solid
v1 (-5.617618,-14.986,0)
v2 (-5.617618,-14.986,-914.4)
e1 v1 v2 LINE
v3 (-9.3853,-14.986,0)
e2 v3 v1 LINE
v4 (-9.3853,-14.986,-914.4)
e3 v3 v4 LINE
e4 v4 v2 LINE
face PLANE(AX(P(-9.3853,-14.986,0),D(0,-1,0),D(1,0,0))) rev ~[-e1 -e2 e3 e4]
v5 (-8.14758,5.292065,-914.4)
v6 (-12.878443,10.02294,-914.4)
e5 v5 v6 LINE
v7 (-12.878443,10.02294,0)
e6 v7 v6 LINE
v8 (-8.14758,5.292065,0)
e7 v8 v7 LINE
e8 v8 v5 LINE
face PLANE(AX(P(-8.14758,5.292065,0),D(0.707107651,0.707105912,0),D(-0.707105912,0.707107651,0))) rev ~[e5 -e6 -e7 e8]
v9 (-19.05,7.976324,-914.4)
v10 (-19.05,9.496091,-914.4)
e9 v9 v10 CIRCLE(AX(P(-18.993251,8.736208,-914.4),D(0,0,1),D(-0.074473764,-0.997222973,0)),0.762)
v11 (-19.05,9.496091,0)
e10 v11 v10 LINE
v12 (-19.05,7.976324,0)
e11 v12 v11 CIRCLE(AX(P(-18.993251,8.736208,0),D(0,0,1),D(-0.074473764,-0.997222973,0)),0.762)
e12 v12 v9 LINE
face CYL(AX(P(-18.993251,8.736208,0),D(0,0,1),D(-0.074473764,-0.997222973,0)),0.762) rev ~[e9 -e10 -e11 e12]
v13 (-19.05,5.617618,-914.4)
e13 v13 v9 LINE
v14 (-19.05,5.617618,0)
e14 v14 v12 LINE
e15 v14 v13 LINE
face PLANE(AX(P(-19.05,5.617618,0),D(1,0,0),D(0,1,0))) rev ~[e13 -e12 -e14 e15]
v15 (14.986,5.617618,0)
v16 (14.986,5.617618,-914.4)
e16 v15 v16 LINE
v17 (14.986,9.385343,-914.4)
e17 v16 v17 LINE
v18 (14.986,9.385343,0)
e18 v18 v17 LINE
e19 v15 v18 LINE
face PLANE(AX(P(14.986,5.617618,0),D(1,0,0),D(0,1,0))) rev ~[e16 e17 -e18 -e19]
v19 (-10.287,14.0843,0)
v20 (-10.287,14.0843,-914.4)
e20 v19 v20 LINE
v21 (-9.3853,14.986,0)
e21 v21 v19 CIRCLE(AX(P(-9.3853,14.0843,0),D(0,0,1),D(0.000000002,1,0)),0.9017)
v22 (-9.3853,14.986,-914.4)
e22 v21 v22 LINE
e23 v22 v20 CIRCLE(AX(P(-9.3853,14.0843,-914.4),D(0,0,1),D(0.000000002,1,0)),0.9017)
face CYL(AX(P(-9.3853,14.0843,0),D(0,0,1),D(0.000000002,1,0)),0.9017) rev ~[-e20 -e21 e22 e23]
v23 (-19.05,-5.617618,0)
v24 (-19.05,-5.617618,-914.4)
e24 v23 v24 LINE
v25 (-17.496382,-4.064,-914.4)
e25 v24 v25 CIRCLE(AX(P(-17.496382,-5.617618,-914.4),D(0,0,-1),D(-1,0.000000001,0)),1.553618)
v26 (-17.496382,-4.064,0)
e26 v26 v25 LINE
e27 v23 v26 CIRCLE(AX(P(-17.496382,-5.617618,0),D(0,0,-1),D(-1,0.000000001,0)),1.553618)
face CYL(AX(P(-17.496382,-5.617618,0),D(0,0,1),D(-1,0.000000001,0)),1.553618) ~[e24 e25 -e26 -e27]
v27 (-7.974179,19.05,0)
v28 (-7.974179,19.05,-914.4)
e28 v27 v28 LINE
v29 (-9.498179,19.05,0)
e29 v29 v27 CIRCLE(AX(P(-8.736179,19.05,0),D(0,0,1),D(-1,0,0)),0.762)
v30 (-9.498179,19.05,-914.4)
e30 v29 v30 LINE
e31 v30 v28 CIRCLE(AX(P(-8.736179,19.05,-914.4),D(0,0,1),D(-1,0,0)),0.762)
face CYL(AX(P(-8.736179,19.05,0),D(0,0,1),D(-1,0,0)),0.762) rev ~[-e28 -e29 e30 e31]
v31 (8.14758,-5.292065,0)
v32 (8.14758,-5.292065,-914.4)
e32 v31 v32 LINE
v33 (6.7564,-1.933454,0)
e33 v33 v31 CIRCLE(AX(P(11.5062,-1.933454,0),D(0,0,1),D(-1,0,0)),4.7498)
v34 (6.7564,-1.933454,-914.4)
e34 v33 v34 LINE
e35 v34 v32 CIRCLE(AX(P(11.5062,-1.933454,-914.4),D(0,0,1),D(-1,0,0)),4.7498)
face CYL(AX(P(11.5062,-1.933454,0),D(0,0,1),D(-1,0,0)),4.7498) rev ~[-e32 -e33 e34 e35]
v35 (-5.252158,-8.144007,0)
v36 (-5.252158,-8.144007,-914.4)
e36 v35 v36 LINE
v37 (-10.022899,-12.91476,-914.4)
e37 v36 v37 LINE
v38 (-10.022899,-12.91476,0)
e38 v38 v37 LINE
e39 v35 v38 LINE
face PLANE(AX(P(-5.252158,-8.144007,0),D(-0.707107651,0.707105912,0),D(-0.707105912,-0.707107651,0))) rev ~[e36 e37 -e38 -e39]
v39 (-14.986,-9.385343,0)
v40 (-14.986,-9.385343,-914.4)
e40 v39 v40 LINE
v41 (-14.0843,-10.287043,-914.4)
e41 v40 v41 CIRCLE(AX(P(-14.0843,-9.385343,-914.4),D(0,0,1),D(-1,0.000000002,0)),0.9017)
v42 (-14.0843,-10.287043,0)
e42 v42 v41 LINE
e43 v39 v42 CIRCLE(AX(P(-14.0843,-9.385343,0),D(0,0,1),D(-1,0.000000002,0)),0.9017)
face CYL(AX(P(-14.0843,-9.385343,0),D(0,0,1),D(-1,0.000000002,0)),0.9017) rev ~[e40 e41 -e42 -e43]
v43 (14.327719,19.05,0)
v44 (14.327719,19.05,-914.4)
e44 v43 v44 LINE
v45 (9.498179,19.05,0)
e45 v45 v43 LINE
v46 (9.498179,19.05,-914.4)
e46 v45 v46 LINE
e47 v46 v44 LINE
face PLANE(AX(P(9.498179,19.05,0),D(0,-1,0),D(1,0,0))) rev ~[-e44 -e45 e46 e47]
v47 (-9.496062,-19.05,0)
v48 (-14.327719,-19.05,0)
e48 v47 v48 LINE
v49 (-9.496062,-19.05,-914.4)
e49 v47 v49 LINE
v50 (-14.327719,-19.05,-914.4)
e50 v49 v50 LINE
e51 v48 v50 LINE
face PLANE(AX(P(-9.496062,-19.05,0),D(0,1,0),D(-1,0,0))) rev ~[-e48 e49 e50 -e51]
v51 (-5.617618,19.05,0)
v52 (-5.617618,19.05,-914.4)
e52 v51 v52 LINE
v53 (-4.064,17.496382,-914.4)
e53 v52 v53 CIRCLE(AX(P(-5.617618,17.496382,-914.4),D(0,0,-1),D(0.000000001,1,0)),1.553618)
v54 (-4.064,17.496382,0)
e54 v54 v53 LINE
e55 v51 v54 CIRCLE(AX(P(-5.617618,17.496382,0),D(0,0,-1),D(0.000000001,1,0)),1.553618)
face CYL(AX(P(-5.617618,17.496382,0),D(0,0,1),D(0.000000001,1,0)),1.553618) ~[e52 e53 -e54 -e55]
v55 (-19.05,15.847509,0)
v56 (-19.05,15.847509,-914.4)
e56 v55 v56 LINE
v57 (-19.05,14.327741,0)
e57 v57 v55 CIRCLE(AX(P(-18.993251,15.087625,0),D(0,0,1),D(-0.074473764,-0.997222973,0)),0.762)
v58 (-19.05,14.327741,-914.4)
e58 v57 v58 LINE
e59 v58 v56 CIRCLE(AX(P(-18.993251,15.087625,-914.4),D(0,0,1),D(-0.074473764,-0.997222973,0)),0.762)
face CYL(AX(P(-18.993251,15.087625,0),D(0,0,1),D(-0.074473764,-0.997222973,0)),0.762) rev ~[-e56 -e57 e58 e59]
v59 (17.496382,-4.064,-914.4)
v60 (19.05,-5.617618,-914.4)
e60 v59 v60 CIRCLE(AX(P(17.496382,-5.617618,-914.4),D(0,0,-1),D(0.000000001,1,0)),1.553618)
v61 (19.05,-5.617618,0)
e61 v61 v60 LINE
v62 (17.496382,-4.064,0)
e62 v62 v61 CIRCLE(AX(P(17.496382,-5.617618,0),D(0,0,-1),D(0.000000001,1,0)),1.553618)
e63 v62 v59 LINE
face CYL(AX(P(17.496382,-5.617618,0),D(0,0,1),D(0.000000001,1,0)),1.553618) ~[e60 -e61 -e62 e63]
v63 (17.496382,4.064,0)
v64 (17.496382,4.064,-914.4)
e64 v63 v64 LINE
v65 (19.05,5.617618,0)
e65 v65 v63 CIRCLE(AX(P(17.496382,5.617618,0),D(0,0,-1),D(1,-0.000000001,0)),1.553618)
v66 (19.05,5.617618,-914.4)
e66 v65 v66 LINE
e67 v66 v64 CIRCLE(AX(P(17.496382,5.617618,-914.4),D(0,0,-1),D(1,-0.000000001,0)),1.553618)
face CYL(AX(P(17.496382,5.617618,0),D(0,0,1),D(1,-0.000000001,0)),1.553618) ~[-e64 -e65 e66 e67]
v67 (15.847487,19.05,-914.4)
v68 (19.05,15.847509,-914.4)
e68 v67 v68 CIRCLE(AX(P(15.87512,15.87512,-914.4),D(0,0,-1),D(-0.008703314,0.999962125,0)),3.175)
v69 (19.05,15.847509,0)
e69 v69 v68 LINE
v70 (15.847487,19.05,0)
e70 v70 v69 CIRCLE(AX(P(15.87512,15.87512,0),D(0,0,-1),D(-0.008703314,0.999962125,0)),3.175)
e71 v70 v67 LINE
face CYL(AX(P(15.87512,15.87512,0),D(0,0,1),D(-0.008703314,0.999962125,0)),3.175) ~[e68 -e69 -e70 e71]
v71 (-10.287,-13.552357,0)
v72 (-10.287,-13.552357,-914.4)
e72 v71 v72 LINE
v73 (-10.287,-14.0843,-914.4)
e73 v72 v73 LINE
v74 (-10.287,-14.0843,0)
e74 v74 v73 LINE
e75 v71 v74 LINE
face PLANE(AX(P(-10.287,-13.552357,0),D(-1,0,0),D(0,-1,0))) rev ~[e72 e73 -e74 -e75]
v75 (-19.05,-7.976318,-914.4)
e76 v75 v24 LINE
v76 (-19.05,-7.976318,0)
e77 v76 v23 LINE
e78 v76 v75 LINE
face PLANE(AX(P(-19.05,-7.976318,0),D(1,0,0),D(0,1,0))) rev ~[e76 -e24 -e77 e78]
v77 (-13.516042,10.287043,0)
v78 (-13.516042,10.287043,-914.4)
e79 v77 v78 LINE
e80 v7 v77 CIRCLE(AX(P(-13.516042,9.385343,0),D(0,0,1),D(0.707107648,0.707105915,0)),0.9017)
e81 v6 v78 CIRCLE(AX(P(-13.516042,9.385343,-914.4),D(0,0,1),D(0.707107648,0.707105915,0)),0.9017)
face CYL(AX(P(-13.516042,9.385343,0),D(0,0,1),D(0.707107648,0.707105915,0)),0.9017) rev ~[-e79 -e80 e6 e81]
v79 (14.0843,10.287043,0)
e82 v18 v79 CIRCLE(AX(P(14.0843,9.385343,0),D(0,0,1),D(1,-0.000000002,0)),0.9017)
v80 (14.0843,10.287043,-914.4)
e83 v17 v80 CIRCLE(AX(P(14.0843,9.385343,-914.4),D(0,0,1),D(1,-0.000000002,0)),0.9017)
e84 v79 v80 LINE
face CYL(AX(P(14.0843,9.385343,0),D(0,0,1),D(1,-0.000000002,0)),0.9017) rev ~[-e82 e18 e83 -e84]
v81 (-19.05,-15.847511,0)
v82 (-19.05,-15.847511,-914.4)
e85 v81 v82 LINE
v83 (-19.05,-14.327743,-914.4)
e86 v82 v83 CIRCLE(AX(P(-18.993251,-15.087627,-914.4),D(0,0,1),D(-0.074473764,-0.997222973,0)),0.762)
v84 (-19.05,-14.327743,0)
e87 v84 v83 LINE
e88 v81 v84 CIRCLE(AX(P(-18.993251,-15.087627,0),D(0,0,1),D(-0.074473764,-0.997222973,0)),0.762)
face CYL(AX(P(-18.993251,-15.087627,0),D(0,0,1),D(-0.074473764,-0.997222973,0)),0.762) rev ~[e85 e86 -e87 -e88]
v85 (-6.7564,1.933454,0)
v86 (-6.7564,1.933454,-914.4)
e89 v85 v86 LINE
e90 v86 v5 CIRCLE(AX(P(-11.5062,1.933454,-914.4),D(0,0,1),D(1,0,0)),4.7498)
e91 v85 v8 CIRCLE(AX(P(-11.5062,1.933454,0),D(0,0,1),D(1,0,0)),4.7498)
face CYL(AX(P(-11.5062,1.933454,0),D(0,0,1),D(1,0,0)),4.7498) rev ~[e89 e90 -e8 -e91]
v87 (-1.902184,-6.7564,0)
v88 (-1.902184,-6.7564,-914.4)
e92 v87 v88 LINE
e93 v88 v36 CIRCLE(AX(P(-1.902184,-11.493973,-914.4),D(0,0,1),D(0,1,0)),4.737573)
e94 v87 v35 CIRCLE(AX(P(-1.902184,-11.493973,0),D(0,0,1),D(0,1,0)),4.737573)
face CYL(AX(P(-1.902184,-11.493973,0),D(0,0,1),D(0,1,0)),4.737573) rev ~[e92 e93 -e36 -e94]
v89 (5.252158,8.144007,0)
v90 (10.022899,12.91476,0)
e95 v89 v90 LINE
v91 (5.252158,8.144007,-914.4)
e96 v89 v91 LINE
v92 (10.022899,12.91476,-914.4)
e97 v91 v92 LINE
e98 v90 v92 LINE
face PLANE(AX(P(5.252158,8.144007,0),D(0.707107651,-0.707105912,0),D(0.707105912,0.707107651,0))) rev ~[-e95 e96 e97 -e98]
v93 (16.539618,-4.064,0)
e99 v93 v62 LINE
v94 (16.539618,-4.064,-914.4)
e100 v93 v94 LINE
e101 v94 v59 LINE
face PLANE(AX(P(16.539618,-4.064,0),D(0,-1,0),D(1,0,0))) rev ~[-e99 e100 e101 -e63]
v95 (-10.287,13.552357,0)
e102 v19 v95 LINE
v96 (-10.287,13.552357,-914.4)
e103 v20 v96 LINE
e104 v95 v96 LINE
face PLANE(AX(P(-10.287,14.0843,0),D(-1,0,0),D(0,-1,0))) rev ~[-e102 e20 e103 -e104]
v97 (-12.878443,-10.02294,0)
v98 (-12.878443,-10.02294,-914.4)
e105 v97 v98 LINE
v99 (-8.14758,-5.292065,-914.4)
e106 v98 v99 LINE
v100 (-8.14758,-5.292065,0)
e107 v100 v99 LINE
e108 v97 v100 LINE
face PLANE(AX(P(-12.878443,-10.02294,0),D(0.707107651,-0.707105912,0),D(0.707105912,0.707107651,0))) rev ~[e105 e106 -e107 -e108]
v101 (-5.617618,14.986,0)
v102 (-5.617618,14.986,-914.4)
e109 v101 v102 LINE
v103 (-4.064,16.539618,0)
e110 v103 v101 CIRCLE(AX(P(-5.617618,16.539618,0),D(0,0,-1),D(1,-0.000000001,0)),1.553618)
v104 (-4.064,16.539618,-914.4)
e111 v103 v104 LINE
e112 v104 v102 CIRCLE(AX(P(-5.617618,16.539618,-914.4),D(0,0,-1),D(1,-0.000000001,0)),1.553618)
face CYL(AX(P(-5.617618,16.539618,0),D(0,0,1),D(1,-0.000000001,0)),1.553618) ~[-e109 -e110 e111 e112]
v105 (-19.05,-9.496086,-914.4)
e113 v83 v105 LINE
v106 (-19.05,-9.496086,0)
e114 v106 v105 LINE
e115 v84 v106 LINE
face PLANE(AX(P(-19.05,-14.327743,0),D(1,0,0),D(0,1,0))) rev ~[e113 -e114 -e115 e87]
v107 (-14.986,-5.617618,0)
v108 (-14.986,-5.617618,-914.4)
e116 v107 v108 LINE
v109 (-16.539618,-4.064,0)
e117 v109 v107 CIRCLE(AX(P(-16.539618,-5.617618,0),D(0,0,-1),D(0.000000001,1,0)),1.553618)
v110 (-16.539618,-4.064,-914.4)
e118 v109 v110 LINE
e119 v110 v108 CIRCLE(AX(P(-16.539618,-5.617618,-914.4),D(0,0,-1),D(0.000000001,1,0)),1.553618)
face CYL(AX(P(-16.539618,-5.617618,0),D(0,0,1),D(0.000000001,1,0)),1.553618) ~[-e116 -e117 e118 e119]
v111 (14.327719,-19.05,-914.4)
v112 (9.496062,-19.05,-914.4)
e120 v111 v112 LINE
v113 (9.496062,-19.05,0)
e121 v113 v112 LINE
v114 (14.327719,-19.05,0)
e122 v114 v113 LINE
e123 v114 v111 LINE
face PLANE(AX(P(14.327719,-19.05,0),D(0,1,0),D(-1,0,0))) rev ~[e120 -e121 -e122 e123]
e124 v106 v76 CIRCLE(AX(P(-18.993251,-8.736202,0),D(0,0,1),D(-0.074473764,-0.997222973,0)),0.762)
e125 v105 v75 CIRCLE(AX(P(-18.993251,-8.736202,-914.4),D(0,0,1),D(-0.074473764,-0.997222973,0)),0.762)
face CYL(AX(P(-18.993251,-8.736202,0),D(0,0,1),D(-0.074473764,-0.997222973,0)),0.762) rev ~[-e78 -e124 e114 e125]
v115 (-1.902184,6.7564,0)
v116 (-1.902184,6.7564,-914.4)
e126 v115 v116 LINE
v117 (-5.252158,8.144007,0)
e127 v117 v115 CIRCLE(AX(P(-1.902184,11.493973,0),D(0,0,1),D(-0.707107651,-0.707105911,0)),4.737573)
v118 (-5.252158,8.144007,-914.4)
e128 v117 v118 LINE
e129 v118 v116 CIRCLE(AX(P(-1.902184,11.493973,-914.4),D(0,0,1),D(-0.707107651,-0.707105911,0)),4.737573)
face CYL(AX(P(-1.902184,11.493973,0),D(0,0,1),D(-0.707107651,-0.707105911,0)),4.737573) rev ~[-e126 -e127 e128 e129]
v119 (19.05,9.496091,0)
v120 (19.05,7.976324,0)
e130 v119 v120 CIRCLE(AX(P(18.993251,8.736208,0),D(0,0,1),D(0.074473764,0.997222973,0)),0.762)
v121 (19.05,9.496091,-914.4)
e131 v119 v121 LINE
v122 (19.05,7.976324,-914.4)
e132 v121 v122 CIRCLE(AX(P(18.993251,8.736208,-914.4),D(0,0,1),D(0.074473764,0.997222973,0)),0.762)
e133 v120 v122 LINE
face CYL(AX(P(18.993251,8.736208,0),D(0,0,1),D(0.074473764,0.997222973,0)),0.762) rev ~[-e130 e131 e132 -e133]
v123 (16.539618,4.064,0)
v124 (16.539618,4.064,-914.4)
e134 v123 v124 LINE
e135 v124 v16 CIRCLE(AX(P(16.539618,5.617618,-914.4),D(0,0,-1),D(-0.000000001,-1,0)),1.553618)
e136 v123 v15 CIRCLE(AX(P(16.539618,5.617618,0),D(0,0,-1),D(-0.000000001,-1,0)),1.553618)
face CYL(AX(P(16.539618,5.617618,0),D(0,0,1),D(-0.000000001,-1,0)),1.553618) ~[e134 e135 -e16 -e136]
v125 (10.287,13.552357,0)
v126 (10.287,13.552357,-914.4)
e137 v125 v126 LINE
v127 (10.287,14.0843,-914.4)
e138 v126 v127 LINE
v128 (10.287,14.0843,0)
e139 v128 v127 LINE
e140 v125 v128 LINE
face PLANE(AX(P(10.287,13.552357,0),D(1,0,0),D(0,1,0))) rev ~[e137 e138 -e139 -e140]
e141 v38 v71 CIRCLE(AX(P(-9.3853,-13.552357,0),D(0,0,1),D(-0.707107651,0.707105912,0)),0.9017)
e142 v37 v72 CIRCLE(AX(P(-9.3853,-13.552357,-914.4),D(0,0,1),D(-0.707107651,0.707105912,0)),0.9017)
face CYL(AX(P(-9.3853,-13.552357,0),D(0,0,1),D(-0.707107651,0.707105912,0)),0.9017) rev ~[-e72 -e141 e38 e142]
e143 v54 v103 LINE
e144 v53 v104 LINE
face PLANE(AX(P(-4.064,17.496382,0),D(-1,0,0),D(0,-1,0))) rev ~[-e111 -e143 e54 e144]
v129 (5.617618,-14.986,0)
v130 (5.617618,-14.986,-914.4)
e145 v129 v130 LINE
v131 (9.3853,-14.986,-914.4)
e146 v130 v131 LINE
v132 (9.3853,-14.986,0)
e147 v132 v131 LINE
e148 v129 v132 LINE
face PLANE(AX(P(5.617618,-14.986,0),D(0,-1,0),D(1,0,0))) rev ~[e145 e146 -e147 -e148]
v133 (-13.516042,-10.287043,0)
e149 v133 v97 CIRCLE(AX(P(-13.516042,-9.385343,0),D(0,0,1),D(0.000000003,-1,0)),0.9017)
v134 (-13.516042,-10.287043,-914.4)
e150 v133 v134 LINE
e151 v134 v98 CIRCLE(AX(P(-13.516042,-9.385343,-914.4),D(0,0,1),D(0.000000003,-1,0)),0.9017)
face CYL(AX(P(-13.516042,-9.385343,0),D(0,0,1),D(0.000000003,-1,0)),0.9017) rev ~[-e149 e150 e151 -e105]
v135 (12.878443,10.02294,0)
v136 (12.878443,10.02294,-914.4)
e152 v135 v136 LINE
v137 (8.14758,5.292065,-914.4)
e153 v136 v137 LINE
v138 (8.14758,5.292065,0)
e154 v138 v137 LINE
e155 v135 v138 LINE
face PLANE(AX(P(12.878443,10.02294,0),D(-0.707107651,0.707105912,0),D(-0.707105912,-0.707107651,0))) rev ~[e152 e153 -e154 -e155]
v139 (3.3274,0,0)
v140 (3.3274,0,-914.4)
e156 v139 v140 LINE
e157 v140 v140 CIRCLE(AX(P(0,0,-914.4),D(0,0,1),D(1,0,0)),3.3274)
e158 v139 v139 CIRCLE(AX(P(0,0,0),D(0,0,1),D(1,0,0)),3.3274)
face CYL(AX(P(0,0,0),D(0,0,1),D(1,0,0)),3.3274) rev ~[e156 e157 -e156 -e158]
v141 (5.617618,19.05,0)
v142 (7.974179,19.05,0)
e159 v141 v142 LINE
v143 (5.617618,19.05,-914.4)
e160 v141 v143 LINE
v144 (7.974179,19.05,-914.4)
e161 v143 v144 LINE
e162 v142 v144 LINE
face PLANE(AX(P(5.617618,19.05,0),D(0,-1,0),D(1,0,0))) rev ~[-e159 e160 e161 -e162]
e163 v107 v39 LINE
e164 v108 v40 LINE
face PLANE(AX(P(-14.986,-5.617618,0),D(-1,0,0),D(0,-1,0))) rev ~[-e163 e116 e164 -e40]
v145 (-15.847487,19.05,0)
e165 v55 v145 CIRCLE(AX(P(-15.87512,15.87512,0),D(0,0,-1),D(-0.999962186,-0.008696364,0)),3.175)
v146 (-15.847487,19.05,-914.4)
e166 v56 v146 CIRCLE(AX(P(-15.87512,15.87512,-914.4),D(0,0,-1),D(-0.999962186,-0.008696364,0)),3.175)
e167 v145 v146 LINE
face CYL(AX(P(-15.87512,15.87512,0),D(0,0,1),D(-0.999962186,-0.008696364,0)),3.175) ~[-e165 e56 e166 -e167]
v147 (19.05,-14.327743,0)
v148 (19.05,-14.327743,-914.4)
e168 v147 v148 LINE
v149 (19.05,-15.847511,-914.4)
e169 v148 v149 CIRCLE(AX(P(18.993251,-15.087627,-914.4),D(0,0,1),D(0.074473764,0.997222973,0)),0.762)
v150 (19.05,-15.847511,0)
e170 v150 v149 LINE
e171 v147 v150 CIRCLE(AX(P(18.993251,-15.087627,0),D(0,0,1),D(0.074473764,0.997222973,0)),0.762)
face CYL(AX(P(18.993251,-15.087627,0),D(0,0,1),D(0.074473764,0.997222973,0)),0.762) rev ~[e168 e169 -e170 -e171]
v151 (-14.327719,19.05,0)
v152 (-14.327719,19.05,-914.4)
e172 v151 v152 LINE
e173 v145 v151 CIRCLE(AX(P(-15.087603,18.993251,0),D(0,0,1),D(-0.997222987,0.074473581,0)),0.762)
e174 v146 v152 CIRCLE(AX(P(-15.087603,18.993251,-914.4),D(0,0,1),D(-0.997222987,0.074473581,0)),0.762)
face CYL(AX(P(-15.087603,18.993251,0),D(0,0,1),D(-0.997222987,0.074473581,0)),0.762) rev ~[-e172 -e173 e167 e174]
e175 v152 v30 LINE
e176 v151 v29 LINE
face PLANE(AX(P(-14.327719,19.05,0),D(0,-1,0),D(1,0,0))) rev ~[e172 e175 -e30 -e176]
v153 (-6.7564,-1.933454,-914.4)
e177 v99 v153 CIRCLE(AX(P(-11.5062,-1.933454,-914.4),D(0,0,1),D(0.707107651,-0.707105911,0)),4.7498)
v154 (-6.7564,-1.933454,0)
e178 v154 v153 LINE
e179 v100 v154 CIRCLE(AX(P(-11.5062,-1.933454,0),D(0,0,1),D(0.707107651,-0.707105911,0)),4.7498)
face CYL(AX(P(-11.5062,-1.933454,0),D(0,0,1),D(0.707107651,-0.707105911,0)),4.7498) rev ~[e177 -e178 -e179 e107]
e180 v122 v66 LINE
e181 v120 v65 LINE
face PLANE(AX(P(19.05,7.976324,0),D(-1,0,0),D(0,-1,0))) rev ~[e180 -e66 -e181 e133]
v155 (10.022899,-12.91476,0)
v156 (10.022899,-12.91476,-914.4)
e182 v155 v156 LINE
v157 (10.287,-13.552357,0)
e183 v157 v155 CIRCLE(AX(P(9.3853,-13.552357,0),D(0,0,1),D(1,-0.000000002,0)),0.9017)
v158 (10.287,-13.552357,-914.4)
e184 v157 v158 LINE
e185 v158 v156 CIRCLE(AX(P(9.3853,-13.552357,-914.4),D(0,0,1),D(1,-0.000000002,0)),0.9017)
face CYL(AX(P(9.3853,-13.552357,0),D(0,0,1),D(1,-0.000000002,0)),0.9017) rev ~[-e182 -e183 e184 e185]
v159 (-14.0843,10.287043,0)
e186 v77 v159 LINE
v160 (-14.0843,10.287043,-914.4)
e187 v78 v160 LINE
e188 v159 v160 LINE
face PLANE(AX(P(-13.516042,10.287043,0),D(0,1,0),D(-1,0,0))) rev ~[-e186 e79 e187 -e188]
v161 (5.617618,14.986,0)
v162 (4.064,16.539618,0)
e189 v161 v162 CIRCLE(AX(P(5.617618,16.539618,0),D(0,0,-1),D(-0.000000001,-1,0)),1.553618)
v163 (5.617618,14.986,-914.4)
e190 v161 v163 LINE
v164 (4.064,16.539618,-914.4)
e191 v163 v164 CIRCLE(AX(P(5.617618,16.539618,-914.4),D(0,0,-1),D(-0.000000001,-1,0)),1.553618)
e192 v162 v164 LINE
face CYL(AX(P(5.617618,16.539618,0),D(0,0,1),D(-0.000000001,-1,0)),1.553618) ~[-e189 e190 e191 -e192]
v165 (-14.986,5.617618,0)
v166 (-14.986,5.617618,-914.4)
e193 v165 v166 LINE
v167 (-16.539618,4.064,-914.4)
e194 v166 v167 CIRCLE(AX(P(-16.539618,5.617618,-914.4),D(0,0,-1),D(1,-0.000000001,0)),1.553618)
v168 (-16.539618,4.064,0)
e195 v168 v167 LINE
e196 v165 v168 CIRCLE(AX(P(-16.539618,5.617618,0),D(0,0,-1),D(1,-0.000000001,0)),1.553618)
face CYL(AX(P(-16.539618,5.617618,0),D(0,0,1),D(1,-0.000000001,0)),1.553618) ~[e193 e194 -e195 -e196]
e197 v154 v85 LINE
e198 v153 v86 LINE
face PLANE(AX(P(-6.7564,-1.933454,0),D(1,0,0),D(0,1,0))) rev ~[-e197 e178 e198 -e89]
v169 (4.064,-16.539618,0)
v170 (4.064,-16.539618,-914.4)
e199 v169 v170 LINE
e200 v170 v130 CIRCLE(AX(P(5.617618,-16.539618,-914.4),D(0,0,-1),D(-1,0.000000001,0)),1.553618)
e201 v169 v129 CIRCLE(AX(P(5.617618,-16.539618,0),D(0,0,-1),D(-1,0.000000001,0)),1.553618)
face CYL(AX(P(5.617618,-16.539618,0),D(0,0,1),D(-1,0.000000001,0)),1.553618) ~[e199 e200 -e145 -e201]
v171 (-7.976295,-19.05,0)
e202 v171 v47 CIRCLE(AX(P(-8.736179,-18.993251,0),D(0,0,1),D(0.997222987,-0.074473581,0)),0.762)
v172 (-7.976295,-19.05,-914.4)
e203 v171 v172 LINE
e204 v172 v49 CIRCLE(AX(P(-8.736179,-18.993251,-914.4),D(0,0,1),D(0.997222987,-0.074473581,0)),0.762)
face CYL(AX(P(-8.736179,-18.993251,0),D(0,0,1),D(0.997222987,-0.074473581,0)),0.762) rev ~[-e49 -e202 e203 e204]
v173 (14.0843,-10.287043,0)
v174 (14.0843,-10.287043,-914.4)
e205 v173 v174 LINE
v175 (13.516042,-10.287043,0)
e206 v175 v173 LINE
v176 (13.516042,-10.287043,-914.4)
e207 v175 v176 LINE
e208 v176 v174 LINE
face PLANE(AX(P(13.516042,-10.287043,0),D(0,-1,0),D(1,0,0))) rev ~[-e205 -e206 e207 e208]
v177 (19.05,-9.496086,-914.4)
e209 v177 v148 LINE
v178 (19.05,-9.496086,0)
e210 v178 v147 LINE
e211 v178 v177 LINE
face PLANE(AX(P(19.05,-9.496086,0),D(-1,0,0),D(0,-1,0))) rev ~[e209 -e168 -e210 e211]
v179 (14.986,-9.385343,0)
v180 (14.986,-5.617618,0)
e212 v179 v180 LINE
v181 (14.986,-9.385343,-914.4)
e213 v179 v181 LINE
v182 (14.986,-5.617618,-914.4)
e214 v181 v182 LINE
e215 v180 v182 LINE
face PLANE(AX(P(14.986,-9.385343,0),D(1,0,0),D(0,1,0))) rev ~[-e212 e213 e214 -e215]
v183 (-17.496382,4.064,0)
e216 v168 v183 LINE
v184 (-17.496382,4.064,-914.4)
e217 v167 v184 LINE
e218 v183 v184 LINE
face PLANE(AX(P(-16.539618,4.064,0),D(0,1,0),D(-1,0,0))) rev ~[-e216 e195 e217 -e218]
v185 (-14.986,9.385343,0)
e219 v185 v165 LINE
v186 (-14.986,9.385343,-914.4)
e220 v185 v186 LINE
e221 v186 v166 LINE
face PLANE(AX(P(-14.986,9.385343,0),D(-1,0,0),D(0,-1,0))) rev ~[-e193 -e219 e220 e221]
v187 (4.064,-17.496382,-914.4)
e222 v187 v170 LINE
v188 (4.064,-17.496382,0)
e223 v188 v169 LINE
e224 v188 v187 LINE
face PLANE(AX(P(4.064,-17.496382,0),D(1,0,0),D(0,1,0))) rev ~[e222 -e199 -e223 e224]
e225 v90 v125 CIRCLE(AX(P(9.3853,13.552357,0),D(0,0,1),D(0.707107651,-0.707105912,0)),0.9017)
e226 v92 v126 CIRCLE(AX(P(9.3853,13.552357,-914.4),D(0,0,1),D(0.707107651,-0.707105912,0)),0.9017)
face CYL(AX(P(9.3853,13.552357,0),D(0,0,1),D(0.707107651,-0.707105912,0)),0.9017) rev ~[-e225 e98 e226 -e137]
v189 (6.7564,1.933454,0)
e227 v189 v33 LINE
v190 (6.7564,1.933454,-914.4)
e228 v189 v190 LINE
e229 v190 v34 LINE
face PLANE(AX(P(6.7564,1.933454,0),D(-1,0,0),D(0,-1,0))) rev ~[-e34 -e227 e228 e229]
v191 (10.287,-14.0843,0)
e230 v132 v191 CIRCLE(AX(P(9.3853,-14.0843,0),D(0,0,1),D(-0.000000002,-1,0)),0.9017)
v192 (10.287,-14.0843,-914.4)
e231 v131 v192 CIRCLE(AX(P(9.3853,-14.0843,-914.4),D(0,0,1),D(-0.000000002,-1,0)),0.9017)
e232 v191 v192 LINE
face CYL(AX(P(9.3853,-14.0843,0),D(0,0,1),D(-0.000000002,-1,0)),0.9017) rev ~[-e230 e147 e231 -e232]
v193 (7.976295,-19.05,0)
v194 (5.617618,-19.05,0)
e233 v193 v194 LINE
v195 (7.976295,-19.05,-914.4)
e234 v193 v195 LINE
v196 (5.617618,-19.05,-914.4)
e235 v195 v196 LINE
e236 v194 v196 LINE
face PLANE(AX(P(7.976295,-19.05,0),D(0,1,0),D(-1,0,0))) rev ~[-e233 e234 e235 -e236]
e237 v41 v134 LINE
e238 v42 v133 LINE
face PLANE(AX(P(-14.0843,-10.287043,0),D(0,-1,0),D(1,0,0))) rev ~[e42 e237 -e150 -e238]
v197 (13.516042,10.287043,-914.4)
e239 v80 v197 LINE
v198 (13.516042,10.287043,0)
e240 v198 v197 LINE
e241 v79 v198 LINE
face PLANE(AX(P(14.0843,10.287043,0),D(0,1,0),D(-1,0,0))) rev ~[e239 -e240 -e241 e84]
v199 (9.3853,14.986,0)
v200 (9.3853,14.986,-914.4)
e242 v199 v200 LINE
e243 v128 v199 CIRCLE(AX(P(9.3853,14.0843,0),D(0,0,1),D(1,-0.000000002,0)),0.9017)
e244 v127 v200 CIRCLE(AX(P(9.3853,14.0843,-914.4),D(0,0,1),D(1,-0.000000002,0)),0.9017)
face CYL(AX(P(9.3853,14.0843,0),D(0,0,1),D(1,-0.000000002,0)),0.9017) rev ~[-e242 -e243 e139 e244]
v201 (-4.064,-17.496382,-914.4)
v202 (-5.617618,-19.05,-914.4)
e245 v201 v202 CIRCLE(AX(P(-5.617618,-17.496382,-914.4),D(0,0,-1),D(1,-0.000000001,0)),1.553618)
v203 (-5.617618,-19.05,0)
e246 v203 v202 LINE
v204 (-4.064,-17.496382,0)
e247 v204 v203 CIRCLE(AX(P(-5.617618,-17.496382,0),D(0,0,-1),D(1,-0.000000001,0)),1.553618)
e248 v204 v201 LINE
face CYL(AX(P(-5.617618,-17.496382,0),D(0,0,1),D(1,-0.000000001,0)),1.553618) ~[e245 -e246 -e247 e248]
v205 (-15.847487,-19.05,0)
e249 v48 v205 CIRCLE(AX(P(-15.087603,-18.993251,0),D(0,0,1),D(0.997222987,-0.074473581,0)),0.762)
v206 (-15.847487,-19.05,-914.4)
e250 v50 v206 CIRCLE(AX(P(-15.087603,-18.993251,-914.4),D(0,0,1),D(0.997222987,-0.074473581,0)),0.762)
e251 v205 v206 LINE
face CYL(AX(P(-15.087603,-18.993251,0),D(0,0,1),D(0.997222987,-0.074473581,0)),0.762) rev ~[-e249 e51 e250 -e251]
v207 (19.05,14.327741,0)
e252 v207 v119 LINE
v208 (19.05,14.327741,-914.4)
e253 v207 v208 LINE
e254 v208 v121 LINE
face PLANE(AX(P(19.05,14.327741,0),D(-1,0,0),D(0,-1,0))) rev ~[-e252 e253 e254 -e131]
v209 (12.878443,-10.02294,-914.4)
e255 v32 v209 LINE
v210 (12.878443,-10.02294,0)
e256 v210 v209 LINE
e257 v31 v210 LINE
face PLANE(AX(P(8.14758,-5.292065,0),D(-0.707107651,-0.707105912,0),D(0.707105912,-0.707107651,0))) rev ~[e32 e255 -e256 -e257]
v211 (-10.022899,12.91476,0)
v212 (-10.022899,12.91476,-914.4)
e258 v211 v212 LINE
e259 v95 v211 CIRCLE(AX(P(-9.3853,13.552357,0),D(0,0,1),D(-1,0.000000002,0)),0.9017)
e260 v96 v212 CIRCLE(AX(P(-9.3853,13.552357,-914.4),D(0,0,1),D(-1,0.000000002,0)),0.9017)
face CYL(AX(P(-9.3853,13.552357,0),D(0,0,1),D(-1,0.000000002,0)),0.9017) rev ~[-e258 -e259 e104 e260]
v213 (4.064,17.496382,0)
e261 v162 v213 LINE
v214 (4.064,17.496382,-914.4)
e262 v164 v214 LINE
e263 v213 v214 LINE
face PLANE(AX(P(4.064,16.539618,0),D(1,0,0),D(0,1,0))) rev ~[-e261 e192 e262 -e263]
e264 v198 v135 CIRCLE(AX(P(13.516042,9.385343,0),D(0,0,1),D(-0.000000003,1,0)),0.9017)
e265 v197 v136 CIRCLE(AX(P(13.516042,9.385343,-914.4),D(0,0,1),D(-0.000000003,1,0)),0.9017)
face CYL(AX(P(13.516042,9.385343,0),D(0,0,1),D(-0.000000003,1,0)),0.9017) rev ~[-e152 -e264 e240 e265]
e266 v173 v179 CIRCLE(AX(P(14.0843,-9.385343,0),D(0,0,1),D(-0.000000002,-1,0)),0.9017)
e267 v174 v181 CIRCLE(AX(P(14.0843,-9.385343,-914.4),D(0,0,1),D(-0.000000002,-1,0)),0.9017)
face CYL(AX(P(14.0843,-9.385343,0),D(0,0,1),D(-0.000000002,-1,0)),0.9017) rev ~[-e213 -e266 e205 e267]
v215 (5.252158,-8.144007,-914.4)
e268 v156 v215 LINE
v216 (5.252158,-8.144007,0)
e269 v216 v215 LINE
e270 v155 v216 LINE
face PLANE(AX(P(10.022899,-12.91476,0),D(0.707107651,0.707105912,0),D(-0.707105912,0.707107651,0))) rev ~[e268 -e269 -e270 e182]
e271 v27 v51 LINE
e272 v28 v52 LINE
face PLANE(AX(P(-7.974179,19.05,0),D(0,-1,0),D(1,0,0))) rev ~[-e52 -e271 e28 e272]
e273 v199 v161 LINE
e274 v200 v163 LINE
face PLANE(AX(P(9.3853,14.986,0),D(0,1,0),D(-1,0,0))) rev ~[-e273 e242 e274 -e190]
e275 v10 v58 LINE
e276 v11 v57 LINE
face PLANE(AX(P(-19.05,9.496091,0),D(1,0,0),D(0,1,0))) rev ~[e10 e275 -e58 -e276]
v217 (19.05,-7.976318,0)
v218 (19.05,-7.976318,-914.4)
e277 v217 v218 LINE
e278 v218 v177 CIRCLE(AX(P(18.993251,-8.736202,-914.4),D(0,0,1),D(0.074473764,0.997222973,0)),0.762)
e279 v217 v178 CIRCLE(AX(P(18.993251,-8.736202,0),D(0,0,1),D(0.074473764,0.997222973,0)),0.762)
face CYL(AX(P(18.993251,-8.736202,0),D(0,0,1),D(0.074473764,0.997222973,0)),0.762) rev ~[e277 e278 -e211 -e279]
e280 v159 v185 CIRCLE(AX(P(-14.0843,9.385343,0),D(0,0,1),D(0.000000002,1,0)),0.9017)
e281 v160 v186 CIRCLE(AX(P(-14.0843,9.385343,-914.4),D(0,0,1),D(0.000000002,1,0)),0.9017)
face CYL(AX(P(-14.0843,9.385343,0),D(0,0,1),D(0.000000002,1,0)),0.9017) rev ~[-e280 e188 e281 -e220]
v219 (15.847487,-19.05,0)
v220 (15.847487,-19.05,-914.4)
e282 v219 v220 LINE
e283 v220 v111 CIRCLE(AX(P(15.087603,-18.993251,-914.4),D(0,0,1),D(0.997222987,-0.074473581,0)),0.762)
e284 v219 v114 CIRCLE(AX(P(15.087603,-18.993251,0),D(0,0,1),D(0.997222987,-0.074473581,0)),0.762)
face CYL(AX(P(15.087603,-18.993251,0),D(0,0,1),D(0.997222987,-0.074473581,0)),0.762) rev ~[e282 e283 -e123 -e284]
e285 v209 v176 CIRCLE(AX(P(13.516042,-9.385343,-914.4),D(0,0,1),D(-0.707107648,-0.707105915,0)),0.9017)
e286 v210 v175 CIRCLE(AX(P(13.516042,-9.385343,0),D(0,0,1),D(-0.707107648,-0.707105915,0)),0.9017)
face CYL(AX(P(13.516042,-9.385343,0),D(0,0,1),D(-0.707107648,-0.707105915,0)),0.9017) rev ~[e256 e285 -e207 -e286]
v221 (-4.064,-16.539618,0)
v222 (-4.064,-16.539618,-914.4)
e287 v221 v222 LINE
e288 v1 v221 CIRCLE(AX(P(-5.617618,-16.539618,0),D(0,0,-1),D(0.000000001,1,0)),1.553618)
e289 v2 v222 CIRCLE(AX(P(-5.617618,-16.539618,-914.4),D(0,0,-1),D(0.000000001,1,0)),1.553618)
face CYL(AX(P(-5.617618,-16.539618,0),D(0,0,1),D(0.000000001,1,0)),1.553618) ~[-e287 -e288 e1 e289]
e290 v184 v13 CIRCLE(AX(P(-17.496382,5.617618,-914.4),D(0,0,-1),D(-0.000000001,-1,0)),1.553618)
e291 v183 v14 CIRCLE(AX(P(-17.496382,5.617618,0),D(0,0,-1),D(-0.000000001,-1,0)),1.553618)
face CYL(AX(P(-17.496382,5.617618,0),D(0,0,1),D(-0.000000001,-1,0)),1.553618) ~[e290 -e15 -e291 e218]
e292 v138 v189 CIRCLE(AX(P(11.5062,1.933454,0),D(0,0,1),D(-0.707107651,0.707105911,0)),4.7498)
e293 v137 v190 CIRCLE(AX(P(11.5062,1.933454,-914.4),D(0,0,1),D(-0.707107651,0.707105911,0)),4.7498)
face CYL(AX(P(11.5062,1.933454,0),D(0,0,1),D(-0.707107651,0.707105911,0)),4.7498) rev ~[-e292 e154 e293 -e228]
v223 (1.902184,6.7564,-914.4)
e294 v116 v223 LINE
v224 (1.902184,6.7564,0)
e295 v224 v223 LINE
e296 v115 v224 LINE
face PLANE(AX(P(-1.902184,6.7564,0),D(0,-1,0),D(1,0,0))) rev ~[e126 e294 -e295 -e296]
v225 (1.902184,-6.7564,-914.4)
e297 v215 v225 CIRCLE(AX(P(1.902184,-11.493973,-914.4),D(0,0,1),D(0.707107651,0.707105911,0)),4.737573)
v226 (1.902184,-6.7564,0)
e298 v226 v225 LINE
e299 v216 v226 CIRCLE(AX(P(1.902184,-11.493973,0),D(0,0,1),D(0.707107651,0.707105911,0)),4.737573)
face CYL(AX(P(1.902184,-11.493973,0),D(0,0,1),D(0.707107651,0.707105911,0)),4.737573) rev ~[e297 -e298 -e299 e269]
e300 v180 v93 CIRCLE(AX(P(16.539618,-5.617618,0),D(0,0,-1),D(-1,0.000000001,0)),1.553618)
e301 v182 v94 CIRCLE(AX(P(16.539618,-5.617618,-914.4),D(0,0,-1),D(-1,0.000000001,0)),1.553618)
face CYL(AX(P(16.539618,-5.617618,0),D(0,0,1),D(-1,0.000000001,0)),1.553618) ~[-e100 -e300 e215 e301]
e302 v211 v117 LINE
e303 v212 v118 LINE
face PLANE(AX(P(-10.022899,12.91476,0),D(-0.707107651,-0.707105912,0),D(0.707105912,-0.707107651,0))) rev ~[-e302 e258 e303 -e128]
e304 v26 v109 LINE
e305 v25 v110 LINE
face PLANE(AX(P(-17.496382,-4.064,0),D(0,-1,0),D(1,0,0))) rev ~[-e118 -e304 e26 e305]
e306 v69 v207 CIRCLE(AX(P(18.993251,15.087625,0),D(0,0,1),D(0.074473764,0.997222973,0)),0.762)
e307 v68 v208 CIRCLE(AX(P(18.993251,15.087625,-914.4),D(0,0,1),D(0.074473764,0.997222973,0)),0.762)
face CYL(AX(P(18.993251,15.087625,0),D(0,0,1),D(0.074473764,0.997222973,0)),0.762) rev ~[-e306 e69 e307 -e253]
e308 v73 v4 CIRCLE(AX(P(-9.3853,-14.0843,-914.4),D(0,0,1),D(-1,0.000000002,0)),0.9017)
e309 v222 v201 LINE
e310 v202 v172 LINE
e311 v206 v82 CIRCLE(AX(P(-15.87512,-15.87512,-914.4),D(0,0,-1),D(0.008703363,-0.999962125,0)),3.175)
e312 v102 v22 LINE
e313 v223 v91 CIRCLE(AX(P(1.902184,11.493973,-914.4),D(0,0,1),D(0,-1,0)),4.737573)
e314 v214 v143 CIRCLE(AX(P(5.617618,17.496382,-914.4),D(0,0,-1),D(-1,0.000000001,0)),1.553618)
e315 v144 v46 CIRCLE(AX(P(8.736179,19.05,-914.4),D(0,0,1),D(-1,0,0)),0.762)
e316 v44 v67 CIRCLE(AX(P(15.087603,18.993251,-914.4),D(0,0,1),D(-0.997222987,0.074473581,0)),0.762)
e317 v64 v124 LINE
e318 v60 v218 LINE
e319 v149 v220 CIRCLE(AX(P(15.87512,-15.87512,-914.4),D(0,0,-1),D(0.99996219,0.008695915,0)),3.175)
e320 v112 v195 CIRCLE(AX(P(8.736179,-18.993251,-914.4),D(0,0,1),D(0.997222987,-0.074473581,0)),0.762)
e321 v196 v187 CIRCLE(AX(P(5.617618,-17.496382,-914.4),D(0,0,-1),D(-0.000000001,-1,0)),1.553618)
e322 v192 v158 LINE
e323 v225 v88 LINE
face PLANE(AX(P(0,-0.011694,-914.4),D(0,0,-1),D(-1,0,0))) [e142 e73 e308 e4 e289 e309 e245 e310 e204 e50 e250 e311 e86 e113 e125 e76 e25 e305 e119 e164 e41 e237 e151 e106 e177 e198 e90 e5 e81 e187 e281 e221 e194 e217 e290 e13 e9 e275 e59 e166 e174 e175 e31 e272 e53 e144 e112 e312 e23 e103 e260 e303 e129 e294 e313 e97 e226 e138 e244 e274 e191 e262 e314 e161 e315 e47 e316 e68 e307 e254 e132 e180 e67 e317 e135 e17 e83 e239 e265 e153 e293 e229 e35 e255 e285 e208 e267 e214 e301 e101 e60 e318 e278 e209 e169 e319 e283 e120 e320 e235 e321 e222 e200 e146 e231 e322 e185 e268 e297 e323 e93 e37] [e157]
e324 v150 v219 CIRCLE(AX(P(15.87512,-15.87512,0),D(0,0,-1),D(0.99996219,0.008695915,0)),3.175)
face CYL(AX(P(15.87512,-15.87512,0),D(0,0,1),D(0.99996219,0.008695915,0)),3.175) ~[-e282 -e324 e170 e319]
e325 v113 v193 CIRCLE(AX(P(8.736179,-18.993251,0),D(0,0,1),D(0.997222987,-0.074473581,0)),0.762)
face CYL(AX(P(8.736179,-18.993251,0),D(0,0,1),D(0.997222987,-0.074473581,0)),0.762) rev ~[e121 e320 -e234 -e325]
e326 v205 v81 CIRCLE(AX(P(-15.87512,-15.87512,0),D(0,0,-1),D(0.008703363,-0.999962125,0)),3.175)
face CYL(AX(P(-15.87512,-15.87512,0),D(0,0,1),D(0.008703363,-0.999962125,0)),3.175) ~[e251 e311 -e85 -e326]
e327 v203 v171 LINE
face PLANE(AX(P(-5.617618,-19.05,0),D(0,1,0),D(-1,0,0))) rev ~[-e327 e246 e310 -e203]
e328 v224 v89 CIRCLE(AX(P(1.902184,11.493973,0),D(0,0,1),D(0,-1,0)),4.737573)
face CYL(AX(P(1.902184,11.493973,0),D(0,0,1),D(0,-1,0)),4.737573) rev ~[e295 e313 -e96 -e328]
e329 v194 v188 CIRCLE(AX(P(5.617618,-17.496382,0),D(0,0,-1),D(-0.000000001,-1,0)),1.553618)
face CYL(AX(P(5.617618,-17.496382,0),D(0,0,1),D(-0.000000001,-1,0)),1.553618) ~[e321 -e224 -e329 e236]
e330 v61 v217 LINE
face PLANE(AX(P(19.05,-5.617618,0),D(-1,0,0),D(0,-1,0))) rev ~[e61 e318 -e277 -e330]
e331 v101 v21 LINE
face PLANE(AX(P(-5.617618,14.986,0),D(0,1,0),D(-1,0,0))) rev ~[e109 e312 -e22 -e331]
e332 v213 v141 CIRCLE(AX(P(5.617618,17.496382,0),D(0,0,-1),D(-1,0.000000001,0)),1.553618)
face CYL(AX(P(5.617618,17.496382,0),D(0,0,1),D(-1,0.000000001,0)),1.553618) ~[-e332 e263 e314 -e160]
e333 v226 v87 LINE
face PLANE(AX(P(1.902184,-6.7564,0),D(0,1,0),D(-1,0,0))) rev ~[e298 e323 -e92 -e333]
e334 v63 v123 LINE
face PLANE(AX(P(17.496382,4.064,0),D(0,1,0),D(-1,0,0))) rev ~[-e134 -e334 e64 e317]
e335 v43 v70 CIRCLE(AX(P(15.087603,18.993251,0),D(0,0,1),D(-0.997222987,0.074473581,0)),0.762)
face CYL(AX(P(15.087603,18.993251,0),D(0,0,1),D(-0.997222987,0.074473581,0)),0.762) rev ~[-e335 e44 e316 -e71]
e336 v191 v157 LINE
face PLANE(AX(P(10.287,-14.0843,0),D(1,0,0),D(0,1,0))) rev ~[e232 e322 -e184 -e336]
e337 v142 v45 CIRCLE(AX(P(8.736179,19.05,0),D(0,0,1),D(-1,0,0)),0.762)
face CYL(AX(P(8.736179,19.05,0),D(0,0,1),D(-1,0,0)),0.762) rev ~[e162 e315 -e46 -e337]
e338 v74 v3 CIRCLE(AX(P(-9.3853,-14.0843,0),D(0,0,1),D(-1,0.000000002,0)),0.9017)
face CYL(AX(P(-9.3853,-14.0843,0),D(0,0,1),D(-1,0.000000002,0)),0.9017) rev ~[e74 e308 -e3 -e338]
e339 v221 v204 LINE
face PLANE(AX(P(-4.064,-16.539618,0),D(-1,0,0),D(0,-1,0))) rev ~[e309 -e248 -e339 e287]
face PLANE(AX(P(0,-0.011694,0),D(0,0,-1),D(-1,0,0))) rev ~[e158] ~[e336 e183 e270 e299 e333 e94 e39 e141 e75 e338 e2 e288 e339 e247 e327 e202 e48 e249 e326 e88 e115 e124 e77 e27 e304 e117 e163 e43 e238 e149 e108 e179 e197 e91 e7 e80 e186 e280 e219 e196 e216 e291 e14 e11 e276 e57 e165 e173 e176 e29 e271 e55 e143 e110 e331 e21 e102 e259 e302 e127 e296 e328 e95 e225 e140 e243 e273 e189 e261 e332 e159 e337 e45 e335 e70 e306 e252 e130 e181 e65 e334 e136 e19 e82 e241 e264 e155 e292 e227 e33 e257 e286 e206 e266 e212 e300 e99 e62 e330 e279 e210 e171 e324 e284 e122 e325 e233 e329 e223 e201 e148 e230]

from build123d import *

# Parameters (mm, degrees)
SKETCH1_R      = 3.3274
EXTRUDE1_DEPTH = 914.4


with BuildPart() as part:
    # Sketch1 → Extrude1 (new body)
    with BuildSketch(Plane.XY):
        with BuildLine():
            Line((-10.022898969, 12.91475973), (-5.252158105, 8.144007132))
            ThreePointArc((-5.252158105, 8.144007132), (-3.715177372, 7.117027388), (-1.902183975, 6.7564))
            Line((-1.902183975, 6.7564), (1.902183975, 6.7564))
            ThreePointArc((1.902183975, 6.7564), (3.715177372, 7.117027388), (5.252158105, 8.144007132))
            Line((5.252158105, 8.144007132), (10.022898969, 12.91475973))
            ThreePointArc((10.022898969, 12.91475973), (10.218362387, 13.207291992), (10.287, 13.552357131))
            Line((10.287, 13.552357131), (10.287, 14.0843))
            ThreePointArc((10.287, 14.0843), (10.022898185, 14.721898185), (9.3853, 14.986))
            Line((9.3853, 14.986), (5.617617549, 14.986))
            ThreePointArc((5.617617549, 14.986), (4.519044045, 15.441044045), (4.064, 16.539617549))
            Line((4.064, 16.539617549), (4.064, 17.496382451))
            ThreePointArc((4.064, 17.496382451), (4.519044045, 18.594955955), (5.617617549, 19.05))
            Line((5.617617549, 19.05), (7.974178704, 19.05))
            ThreePointArc((7.974178704, 19.05), (8.736178704, 18.288), (9.498178704, 19.05))
            Line((9.498178704, 19.05), (14.327719207, 19.05))
            ThreePointArc((14.327719207, 19.05), (15.087603123, 18.231251131), (15.847487039, 19.05))
            ThreePointArc((15.847487039, 19.05), (18.120176289, 18.120192083), (19.05, 15.847509295))
            ThreePointArc((19.05, 15.847509295), (18.231250992, 15.08762539), (19.05, 14.327741484))
            Line((19.05, 14.327741484), (19.05, 9.496091471))
            ThreePointArc((19.05, 9.496091471), (18.231250992, 8.736207565), (19.05, 7.97632366))
            Line((19.05, 7.97632366), (19.05, 5.617617549))
            ThreePointArc((19.05, 5.617617549), (18.594955955, 4.519044045), (17.496382451, 4.064))
            Line((17.496382451, 4.064), (16.539617549, 4.064))
            ThreePointArc((16.539617549, 4.064), (15.441044045, 4.519044045), (14.986, 5.617617549))
            Line((14.986, 5.617617549), (14.986, 9.385342516))
            ThreePointArc((14.986, 9.385342516), (14.721898185, 10.022940701), (14.0843, 10.287042516))
            Line((14.0843, 10.287042516), (13.516042086, 10.287042516))
            ThreePointArc((13.516042086, 10.287042516), (13.170975923, 10.218404478), (12.878443117, 10.022939917))
            Line((12.878443117, 10.022939917), (8.14758008, 5.292065243))
            ThreePointArc((8.14758008, 5.292065243), (7.117955879, 3.751120653), (6.7564, 1.933453584))
            Line((6.7564, 1.933453584), (6.7564, -1.933453584))
            ThreePointArc((6.7564, -1.933453584), (7.117955879, -3.751120653), (8.14758008, -5.292065243))
            Line((8.14758008, -5.292065243), (12.878443117, -10.022939917))
            ThreePointArc((12.878443117, -10.022939917), (13.170975923, -10.218404478), (13.516042086, -10.287042516))
            Line((13.516042086, -10.287042516), (14.0843, -10.287042516))
            ThreePointArc((14.0843, -10.287042516), (14.721898185, -10.022940701), (14.986, -9.385342516))
            Line((14.986, -9.385342516), (14.986, -5.617617549))
            ThreePointArc((14.986, -5.617617549), (15.441044045, -4.519044045), (16.539617549, -4.064))
            Line((16.539617549, -4.064), (17.496382451, -4.064))
            ThreePointArc((17.496382451, -4.064), (18.594955955, -4.519044045), (19.05, -5.617617549))
            Line((19.05, -5.617617549), (19.05, -7.976318491))
            ThreePointArc((19.05, -7.976318491), (18.231250992, -8.736202396), (19.05, -9.496086302))
            Line((19.05, -9.496086302), (19.05, -14.32774291))
            ThreePointArc((19.05, -14.32774291), (18.231250992, -15.087626816), (19.05, -15.847510721))
            ThreePointArc((19.05, -15.847510721), (18.120175716, -18.120192644), (15.847486868, -19.05))
            ThreePointArc((15.847486868, -19.05), (15.087602952, -18.231251131), (14.327719036, -19.05))
            Line((14.327719036, -19.05), (9.496062448, -19.05))
            ThreePointArc((9.496062448, -19.05), (8.736178532, -18.231251131), (7.976294616, -19.05))
            Line((7.976294616, -19.05), (5.617617549, -19.05))
            ThreePointArc((5.617617549, -19.05), (4.519044045, -18.594955955), (4.064, -17.496382451))
            Line((4.064, -17.496382451), (4.064, -16.539617549))
            ThreePointArc((4.064, -16.539617549), (4.519044045, -15.441044045), (5.617617549, -14.986))
            Line((5.617617549, -14.986), (9.3853, -14.986))
            ThreePointArc((9.3853, -14.986), (10.022898185, -14.721898185), (10.287, -14.0843))
            Line((10.287, -14.0843), (10.287, -13.552357131))
            ThreePointArc((10.287, -13.552357131), (10.218362387, -13.207291992), (10.022898969, -12.91475973))
            Line((10.022898969, -12.91475973), (5.252158105, -8.144007132))
            ThreePointArc((5.252158105, -8.144007132), (3.715177372, -7.117027388), (1.902183975, -6.7564))
            Line((1.902183975, -6.7564), (-1.902183975, -6.7564))
            ThreePointArc((-1.902183975, -6.7564), (-3.715177372, -7.117027388), (-5.252158105, -8.144007132))
            Line((-5.252158105, -8.144007132), (-10.022898969, -12.91475973))
            ThreePointArc((-10.022898969, -12.91475973), (-10.218362387, -13.207291992), (-10.287, -13.552357131))
            Line((-10.287, -13.552357131), (-10.287, -14.0843))
            ThreePointArc((-10.287, -14.0843), (-10.022898185, -14.721898185), (-9.3853, -14.986))
            Line((-9.3853, -14.986), (-5.617617549, -14.986))
            ThreePointArc((-5.617617549, -14.986), (-4.519044045, -15.441044045), (-4.064, -16.539617549))
            Line((-4.064, -16.539617549), (-4.064, -17.496382451))
            ThreePointArc((-4.064, -17.496382451), (-4.519044045, -18.594955955), (-5.617617549, -19.05))
            Line((-5.617617549, -19.05), (-7.976294616, -19.05))
            ThreePointArc((-7.976294616, -19.05), (-8.736178532, -18.231251131), (-9.496062448, -19.05))
            Line((-9.496062448, -19.05), (-14.327719036, -19.05))
            ThreePointArc((-14.327719036, -19.05), (-15.087602952, -18.231251131), (-15.847486868, -19.05))
            ThreePointArc((-15.847486868, -19.05), (-18.120175716, -18.120192644), (-19.05, -15.847510721))
            ThreePointArc((-19.05, -15.847510721), (-18.231250992, -15.087626816), (-19.05, -14.32774291))
            Line((-19.05, -14.32774291), (-19.05, -9.496086302))
            ThreePointArc((-19.05, -9.496086302), (-18.231250992, -8.736202396), (-19.05, -7.976318491))
            Line((-19.05, -7.976318491), (-19.05, -5.617617549))
            ThreePointArc((-19.05, -5.617617549), (-18.594955955, -4.519044045), (-17.496382451, -4.064))
            Line((-17.496382451, -4.064), (-16.539617549, -4.064))
            ThreePointArc((-16.539617549, -4.064), (-15.441044045, -4.519044045), (-14.986, -5.617617549))
            Line((-14.986, -5.617617549), (-14.986, -9.385342516))
            ThreePointArc((-14.986, -9.385342516), (-14.721898185, -10.022940701), (-14.0843, -10.287042516))
            Line((-14.0843, -10.287042516), (-13.516042086, -10.287042516))
            ThreePointArc((-13.516042086, -10.287042516), (-13.170975923, -10.218404478), (-12.878443117, -10.022939917))
            Line((-12.878443117, -10.022939917), (-8.14758008, -5.292065243))
            ThreePointArc((-8.14758008, -5.292065243), (-7.117955879, -3.751120653), (-6.7564, -1.933453584))
            Line((-6.7564, -1.933453584), (-6.7564, 1.933453584))
            ThreePointArc((-6.7564, 1.933453584), (-7.117955879, 3.751120653), (-8.14758008, 5.292065243))
            Line((-8.14758008, 5.292065243), (-12.878443117, 10.022939917))
            ThreePointArc((-12.878443117, 10.022939917), (-13.170975923, 10.218404478), (-13.516042086, 10.287042516))
            Line((-13.516042086, 10.287042516), (-14.0843, 10.287042516))
            ThreePointArc((-14.0843, 10.287042516), (-14.721898185, 10.022940701), (-14.986, 9.385342516))
            Line((-14.986, 9.385342516), (-14.986, 5.617617549))
            ThreePointArc((-14.986, 5.617617549), (-15.441044045, 4.519044045), (-16.539617549, 4.064))
            Line((-16.539617549, 4.064), (-17.496382451, 4.064))
            ThreePointArc((-17.496382451, 4.064), (-18.594955955, 4.519044045), (-19.05, 5.617617549))
            Line((-19.05, 5.617617549), (-19.05, 7.97632366))
            ThreePointArc((-19.05, 7.97632366), (-18.231250992, 8.736207565), (-19.05, 9.496091471))
            Line((-19.05, 9.496091471), (-19.05, 14.327741484))
            ThreePointArc((-19.05, 14.327741484), (-18.231250992, 15.08762539), (-19.05, 15.847509295))
            ThreePointArc((-19.05, 15.847509295), (-18.120176289, 18.120192083), (-15.847487039, 19.05))
            ThreePointArc((-15.847487039, 19.05), (-15.087603123, 18.231251131), (-14.327719207, 19.05))
            Line((-14.327719207, 19.05), (-9.498178704, 19.05))
            ThreePointArc((-9.498178704, 19.05), (-8.736178704, 18.288), (-7.974178704, 19.05))
            Line((-7.974178704, 19.05), (-5.617617549, 19.05))
            ThreePointArc((-5.617617549, 19.05), (-4.519044045, 18.594955955), (-4.064, 17.496382451))
            Line((-4.064, 17.496382451), (-4.064, 16.539617549))
            ThreePointArc((-4.064, 16.539617549), (-4.519044045, 15.441044045), (-5.617617549, 14.986))
            Line((-5.617617549, 14.986), (-9.3853, 14.986))
            ThreePointArc((-9.3853, 14.986), (-10.022898185, 14.721898185), (-10.287, 14.0843))
            Line((-10.287, 14.0843), (-10.287, 13.552357131))
            ThreePointArc((-10.287, 13.552357131), (-10.218362387, 13.207291992), (-10.022898969, 12.91475973))
        make_face()
        Circle(SKETCH1_R, mode=Mode.SUBTRACT)
    extrude(amount=-EXTRUDE1_DEPTH)


solid = part.part
